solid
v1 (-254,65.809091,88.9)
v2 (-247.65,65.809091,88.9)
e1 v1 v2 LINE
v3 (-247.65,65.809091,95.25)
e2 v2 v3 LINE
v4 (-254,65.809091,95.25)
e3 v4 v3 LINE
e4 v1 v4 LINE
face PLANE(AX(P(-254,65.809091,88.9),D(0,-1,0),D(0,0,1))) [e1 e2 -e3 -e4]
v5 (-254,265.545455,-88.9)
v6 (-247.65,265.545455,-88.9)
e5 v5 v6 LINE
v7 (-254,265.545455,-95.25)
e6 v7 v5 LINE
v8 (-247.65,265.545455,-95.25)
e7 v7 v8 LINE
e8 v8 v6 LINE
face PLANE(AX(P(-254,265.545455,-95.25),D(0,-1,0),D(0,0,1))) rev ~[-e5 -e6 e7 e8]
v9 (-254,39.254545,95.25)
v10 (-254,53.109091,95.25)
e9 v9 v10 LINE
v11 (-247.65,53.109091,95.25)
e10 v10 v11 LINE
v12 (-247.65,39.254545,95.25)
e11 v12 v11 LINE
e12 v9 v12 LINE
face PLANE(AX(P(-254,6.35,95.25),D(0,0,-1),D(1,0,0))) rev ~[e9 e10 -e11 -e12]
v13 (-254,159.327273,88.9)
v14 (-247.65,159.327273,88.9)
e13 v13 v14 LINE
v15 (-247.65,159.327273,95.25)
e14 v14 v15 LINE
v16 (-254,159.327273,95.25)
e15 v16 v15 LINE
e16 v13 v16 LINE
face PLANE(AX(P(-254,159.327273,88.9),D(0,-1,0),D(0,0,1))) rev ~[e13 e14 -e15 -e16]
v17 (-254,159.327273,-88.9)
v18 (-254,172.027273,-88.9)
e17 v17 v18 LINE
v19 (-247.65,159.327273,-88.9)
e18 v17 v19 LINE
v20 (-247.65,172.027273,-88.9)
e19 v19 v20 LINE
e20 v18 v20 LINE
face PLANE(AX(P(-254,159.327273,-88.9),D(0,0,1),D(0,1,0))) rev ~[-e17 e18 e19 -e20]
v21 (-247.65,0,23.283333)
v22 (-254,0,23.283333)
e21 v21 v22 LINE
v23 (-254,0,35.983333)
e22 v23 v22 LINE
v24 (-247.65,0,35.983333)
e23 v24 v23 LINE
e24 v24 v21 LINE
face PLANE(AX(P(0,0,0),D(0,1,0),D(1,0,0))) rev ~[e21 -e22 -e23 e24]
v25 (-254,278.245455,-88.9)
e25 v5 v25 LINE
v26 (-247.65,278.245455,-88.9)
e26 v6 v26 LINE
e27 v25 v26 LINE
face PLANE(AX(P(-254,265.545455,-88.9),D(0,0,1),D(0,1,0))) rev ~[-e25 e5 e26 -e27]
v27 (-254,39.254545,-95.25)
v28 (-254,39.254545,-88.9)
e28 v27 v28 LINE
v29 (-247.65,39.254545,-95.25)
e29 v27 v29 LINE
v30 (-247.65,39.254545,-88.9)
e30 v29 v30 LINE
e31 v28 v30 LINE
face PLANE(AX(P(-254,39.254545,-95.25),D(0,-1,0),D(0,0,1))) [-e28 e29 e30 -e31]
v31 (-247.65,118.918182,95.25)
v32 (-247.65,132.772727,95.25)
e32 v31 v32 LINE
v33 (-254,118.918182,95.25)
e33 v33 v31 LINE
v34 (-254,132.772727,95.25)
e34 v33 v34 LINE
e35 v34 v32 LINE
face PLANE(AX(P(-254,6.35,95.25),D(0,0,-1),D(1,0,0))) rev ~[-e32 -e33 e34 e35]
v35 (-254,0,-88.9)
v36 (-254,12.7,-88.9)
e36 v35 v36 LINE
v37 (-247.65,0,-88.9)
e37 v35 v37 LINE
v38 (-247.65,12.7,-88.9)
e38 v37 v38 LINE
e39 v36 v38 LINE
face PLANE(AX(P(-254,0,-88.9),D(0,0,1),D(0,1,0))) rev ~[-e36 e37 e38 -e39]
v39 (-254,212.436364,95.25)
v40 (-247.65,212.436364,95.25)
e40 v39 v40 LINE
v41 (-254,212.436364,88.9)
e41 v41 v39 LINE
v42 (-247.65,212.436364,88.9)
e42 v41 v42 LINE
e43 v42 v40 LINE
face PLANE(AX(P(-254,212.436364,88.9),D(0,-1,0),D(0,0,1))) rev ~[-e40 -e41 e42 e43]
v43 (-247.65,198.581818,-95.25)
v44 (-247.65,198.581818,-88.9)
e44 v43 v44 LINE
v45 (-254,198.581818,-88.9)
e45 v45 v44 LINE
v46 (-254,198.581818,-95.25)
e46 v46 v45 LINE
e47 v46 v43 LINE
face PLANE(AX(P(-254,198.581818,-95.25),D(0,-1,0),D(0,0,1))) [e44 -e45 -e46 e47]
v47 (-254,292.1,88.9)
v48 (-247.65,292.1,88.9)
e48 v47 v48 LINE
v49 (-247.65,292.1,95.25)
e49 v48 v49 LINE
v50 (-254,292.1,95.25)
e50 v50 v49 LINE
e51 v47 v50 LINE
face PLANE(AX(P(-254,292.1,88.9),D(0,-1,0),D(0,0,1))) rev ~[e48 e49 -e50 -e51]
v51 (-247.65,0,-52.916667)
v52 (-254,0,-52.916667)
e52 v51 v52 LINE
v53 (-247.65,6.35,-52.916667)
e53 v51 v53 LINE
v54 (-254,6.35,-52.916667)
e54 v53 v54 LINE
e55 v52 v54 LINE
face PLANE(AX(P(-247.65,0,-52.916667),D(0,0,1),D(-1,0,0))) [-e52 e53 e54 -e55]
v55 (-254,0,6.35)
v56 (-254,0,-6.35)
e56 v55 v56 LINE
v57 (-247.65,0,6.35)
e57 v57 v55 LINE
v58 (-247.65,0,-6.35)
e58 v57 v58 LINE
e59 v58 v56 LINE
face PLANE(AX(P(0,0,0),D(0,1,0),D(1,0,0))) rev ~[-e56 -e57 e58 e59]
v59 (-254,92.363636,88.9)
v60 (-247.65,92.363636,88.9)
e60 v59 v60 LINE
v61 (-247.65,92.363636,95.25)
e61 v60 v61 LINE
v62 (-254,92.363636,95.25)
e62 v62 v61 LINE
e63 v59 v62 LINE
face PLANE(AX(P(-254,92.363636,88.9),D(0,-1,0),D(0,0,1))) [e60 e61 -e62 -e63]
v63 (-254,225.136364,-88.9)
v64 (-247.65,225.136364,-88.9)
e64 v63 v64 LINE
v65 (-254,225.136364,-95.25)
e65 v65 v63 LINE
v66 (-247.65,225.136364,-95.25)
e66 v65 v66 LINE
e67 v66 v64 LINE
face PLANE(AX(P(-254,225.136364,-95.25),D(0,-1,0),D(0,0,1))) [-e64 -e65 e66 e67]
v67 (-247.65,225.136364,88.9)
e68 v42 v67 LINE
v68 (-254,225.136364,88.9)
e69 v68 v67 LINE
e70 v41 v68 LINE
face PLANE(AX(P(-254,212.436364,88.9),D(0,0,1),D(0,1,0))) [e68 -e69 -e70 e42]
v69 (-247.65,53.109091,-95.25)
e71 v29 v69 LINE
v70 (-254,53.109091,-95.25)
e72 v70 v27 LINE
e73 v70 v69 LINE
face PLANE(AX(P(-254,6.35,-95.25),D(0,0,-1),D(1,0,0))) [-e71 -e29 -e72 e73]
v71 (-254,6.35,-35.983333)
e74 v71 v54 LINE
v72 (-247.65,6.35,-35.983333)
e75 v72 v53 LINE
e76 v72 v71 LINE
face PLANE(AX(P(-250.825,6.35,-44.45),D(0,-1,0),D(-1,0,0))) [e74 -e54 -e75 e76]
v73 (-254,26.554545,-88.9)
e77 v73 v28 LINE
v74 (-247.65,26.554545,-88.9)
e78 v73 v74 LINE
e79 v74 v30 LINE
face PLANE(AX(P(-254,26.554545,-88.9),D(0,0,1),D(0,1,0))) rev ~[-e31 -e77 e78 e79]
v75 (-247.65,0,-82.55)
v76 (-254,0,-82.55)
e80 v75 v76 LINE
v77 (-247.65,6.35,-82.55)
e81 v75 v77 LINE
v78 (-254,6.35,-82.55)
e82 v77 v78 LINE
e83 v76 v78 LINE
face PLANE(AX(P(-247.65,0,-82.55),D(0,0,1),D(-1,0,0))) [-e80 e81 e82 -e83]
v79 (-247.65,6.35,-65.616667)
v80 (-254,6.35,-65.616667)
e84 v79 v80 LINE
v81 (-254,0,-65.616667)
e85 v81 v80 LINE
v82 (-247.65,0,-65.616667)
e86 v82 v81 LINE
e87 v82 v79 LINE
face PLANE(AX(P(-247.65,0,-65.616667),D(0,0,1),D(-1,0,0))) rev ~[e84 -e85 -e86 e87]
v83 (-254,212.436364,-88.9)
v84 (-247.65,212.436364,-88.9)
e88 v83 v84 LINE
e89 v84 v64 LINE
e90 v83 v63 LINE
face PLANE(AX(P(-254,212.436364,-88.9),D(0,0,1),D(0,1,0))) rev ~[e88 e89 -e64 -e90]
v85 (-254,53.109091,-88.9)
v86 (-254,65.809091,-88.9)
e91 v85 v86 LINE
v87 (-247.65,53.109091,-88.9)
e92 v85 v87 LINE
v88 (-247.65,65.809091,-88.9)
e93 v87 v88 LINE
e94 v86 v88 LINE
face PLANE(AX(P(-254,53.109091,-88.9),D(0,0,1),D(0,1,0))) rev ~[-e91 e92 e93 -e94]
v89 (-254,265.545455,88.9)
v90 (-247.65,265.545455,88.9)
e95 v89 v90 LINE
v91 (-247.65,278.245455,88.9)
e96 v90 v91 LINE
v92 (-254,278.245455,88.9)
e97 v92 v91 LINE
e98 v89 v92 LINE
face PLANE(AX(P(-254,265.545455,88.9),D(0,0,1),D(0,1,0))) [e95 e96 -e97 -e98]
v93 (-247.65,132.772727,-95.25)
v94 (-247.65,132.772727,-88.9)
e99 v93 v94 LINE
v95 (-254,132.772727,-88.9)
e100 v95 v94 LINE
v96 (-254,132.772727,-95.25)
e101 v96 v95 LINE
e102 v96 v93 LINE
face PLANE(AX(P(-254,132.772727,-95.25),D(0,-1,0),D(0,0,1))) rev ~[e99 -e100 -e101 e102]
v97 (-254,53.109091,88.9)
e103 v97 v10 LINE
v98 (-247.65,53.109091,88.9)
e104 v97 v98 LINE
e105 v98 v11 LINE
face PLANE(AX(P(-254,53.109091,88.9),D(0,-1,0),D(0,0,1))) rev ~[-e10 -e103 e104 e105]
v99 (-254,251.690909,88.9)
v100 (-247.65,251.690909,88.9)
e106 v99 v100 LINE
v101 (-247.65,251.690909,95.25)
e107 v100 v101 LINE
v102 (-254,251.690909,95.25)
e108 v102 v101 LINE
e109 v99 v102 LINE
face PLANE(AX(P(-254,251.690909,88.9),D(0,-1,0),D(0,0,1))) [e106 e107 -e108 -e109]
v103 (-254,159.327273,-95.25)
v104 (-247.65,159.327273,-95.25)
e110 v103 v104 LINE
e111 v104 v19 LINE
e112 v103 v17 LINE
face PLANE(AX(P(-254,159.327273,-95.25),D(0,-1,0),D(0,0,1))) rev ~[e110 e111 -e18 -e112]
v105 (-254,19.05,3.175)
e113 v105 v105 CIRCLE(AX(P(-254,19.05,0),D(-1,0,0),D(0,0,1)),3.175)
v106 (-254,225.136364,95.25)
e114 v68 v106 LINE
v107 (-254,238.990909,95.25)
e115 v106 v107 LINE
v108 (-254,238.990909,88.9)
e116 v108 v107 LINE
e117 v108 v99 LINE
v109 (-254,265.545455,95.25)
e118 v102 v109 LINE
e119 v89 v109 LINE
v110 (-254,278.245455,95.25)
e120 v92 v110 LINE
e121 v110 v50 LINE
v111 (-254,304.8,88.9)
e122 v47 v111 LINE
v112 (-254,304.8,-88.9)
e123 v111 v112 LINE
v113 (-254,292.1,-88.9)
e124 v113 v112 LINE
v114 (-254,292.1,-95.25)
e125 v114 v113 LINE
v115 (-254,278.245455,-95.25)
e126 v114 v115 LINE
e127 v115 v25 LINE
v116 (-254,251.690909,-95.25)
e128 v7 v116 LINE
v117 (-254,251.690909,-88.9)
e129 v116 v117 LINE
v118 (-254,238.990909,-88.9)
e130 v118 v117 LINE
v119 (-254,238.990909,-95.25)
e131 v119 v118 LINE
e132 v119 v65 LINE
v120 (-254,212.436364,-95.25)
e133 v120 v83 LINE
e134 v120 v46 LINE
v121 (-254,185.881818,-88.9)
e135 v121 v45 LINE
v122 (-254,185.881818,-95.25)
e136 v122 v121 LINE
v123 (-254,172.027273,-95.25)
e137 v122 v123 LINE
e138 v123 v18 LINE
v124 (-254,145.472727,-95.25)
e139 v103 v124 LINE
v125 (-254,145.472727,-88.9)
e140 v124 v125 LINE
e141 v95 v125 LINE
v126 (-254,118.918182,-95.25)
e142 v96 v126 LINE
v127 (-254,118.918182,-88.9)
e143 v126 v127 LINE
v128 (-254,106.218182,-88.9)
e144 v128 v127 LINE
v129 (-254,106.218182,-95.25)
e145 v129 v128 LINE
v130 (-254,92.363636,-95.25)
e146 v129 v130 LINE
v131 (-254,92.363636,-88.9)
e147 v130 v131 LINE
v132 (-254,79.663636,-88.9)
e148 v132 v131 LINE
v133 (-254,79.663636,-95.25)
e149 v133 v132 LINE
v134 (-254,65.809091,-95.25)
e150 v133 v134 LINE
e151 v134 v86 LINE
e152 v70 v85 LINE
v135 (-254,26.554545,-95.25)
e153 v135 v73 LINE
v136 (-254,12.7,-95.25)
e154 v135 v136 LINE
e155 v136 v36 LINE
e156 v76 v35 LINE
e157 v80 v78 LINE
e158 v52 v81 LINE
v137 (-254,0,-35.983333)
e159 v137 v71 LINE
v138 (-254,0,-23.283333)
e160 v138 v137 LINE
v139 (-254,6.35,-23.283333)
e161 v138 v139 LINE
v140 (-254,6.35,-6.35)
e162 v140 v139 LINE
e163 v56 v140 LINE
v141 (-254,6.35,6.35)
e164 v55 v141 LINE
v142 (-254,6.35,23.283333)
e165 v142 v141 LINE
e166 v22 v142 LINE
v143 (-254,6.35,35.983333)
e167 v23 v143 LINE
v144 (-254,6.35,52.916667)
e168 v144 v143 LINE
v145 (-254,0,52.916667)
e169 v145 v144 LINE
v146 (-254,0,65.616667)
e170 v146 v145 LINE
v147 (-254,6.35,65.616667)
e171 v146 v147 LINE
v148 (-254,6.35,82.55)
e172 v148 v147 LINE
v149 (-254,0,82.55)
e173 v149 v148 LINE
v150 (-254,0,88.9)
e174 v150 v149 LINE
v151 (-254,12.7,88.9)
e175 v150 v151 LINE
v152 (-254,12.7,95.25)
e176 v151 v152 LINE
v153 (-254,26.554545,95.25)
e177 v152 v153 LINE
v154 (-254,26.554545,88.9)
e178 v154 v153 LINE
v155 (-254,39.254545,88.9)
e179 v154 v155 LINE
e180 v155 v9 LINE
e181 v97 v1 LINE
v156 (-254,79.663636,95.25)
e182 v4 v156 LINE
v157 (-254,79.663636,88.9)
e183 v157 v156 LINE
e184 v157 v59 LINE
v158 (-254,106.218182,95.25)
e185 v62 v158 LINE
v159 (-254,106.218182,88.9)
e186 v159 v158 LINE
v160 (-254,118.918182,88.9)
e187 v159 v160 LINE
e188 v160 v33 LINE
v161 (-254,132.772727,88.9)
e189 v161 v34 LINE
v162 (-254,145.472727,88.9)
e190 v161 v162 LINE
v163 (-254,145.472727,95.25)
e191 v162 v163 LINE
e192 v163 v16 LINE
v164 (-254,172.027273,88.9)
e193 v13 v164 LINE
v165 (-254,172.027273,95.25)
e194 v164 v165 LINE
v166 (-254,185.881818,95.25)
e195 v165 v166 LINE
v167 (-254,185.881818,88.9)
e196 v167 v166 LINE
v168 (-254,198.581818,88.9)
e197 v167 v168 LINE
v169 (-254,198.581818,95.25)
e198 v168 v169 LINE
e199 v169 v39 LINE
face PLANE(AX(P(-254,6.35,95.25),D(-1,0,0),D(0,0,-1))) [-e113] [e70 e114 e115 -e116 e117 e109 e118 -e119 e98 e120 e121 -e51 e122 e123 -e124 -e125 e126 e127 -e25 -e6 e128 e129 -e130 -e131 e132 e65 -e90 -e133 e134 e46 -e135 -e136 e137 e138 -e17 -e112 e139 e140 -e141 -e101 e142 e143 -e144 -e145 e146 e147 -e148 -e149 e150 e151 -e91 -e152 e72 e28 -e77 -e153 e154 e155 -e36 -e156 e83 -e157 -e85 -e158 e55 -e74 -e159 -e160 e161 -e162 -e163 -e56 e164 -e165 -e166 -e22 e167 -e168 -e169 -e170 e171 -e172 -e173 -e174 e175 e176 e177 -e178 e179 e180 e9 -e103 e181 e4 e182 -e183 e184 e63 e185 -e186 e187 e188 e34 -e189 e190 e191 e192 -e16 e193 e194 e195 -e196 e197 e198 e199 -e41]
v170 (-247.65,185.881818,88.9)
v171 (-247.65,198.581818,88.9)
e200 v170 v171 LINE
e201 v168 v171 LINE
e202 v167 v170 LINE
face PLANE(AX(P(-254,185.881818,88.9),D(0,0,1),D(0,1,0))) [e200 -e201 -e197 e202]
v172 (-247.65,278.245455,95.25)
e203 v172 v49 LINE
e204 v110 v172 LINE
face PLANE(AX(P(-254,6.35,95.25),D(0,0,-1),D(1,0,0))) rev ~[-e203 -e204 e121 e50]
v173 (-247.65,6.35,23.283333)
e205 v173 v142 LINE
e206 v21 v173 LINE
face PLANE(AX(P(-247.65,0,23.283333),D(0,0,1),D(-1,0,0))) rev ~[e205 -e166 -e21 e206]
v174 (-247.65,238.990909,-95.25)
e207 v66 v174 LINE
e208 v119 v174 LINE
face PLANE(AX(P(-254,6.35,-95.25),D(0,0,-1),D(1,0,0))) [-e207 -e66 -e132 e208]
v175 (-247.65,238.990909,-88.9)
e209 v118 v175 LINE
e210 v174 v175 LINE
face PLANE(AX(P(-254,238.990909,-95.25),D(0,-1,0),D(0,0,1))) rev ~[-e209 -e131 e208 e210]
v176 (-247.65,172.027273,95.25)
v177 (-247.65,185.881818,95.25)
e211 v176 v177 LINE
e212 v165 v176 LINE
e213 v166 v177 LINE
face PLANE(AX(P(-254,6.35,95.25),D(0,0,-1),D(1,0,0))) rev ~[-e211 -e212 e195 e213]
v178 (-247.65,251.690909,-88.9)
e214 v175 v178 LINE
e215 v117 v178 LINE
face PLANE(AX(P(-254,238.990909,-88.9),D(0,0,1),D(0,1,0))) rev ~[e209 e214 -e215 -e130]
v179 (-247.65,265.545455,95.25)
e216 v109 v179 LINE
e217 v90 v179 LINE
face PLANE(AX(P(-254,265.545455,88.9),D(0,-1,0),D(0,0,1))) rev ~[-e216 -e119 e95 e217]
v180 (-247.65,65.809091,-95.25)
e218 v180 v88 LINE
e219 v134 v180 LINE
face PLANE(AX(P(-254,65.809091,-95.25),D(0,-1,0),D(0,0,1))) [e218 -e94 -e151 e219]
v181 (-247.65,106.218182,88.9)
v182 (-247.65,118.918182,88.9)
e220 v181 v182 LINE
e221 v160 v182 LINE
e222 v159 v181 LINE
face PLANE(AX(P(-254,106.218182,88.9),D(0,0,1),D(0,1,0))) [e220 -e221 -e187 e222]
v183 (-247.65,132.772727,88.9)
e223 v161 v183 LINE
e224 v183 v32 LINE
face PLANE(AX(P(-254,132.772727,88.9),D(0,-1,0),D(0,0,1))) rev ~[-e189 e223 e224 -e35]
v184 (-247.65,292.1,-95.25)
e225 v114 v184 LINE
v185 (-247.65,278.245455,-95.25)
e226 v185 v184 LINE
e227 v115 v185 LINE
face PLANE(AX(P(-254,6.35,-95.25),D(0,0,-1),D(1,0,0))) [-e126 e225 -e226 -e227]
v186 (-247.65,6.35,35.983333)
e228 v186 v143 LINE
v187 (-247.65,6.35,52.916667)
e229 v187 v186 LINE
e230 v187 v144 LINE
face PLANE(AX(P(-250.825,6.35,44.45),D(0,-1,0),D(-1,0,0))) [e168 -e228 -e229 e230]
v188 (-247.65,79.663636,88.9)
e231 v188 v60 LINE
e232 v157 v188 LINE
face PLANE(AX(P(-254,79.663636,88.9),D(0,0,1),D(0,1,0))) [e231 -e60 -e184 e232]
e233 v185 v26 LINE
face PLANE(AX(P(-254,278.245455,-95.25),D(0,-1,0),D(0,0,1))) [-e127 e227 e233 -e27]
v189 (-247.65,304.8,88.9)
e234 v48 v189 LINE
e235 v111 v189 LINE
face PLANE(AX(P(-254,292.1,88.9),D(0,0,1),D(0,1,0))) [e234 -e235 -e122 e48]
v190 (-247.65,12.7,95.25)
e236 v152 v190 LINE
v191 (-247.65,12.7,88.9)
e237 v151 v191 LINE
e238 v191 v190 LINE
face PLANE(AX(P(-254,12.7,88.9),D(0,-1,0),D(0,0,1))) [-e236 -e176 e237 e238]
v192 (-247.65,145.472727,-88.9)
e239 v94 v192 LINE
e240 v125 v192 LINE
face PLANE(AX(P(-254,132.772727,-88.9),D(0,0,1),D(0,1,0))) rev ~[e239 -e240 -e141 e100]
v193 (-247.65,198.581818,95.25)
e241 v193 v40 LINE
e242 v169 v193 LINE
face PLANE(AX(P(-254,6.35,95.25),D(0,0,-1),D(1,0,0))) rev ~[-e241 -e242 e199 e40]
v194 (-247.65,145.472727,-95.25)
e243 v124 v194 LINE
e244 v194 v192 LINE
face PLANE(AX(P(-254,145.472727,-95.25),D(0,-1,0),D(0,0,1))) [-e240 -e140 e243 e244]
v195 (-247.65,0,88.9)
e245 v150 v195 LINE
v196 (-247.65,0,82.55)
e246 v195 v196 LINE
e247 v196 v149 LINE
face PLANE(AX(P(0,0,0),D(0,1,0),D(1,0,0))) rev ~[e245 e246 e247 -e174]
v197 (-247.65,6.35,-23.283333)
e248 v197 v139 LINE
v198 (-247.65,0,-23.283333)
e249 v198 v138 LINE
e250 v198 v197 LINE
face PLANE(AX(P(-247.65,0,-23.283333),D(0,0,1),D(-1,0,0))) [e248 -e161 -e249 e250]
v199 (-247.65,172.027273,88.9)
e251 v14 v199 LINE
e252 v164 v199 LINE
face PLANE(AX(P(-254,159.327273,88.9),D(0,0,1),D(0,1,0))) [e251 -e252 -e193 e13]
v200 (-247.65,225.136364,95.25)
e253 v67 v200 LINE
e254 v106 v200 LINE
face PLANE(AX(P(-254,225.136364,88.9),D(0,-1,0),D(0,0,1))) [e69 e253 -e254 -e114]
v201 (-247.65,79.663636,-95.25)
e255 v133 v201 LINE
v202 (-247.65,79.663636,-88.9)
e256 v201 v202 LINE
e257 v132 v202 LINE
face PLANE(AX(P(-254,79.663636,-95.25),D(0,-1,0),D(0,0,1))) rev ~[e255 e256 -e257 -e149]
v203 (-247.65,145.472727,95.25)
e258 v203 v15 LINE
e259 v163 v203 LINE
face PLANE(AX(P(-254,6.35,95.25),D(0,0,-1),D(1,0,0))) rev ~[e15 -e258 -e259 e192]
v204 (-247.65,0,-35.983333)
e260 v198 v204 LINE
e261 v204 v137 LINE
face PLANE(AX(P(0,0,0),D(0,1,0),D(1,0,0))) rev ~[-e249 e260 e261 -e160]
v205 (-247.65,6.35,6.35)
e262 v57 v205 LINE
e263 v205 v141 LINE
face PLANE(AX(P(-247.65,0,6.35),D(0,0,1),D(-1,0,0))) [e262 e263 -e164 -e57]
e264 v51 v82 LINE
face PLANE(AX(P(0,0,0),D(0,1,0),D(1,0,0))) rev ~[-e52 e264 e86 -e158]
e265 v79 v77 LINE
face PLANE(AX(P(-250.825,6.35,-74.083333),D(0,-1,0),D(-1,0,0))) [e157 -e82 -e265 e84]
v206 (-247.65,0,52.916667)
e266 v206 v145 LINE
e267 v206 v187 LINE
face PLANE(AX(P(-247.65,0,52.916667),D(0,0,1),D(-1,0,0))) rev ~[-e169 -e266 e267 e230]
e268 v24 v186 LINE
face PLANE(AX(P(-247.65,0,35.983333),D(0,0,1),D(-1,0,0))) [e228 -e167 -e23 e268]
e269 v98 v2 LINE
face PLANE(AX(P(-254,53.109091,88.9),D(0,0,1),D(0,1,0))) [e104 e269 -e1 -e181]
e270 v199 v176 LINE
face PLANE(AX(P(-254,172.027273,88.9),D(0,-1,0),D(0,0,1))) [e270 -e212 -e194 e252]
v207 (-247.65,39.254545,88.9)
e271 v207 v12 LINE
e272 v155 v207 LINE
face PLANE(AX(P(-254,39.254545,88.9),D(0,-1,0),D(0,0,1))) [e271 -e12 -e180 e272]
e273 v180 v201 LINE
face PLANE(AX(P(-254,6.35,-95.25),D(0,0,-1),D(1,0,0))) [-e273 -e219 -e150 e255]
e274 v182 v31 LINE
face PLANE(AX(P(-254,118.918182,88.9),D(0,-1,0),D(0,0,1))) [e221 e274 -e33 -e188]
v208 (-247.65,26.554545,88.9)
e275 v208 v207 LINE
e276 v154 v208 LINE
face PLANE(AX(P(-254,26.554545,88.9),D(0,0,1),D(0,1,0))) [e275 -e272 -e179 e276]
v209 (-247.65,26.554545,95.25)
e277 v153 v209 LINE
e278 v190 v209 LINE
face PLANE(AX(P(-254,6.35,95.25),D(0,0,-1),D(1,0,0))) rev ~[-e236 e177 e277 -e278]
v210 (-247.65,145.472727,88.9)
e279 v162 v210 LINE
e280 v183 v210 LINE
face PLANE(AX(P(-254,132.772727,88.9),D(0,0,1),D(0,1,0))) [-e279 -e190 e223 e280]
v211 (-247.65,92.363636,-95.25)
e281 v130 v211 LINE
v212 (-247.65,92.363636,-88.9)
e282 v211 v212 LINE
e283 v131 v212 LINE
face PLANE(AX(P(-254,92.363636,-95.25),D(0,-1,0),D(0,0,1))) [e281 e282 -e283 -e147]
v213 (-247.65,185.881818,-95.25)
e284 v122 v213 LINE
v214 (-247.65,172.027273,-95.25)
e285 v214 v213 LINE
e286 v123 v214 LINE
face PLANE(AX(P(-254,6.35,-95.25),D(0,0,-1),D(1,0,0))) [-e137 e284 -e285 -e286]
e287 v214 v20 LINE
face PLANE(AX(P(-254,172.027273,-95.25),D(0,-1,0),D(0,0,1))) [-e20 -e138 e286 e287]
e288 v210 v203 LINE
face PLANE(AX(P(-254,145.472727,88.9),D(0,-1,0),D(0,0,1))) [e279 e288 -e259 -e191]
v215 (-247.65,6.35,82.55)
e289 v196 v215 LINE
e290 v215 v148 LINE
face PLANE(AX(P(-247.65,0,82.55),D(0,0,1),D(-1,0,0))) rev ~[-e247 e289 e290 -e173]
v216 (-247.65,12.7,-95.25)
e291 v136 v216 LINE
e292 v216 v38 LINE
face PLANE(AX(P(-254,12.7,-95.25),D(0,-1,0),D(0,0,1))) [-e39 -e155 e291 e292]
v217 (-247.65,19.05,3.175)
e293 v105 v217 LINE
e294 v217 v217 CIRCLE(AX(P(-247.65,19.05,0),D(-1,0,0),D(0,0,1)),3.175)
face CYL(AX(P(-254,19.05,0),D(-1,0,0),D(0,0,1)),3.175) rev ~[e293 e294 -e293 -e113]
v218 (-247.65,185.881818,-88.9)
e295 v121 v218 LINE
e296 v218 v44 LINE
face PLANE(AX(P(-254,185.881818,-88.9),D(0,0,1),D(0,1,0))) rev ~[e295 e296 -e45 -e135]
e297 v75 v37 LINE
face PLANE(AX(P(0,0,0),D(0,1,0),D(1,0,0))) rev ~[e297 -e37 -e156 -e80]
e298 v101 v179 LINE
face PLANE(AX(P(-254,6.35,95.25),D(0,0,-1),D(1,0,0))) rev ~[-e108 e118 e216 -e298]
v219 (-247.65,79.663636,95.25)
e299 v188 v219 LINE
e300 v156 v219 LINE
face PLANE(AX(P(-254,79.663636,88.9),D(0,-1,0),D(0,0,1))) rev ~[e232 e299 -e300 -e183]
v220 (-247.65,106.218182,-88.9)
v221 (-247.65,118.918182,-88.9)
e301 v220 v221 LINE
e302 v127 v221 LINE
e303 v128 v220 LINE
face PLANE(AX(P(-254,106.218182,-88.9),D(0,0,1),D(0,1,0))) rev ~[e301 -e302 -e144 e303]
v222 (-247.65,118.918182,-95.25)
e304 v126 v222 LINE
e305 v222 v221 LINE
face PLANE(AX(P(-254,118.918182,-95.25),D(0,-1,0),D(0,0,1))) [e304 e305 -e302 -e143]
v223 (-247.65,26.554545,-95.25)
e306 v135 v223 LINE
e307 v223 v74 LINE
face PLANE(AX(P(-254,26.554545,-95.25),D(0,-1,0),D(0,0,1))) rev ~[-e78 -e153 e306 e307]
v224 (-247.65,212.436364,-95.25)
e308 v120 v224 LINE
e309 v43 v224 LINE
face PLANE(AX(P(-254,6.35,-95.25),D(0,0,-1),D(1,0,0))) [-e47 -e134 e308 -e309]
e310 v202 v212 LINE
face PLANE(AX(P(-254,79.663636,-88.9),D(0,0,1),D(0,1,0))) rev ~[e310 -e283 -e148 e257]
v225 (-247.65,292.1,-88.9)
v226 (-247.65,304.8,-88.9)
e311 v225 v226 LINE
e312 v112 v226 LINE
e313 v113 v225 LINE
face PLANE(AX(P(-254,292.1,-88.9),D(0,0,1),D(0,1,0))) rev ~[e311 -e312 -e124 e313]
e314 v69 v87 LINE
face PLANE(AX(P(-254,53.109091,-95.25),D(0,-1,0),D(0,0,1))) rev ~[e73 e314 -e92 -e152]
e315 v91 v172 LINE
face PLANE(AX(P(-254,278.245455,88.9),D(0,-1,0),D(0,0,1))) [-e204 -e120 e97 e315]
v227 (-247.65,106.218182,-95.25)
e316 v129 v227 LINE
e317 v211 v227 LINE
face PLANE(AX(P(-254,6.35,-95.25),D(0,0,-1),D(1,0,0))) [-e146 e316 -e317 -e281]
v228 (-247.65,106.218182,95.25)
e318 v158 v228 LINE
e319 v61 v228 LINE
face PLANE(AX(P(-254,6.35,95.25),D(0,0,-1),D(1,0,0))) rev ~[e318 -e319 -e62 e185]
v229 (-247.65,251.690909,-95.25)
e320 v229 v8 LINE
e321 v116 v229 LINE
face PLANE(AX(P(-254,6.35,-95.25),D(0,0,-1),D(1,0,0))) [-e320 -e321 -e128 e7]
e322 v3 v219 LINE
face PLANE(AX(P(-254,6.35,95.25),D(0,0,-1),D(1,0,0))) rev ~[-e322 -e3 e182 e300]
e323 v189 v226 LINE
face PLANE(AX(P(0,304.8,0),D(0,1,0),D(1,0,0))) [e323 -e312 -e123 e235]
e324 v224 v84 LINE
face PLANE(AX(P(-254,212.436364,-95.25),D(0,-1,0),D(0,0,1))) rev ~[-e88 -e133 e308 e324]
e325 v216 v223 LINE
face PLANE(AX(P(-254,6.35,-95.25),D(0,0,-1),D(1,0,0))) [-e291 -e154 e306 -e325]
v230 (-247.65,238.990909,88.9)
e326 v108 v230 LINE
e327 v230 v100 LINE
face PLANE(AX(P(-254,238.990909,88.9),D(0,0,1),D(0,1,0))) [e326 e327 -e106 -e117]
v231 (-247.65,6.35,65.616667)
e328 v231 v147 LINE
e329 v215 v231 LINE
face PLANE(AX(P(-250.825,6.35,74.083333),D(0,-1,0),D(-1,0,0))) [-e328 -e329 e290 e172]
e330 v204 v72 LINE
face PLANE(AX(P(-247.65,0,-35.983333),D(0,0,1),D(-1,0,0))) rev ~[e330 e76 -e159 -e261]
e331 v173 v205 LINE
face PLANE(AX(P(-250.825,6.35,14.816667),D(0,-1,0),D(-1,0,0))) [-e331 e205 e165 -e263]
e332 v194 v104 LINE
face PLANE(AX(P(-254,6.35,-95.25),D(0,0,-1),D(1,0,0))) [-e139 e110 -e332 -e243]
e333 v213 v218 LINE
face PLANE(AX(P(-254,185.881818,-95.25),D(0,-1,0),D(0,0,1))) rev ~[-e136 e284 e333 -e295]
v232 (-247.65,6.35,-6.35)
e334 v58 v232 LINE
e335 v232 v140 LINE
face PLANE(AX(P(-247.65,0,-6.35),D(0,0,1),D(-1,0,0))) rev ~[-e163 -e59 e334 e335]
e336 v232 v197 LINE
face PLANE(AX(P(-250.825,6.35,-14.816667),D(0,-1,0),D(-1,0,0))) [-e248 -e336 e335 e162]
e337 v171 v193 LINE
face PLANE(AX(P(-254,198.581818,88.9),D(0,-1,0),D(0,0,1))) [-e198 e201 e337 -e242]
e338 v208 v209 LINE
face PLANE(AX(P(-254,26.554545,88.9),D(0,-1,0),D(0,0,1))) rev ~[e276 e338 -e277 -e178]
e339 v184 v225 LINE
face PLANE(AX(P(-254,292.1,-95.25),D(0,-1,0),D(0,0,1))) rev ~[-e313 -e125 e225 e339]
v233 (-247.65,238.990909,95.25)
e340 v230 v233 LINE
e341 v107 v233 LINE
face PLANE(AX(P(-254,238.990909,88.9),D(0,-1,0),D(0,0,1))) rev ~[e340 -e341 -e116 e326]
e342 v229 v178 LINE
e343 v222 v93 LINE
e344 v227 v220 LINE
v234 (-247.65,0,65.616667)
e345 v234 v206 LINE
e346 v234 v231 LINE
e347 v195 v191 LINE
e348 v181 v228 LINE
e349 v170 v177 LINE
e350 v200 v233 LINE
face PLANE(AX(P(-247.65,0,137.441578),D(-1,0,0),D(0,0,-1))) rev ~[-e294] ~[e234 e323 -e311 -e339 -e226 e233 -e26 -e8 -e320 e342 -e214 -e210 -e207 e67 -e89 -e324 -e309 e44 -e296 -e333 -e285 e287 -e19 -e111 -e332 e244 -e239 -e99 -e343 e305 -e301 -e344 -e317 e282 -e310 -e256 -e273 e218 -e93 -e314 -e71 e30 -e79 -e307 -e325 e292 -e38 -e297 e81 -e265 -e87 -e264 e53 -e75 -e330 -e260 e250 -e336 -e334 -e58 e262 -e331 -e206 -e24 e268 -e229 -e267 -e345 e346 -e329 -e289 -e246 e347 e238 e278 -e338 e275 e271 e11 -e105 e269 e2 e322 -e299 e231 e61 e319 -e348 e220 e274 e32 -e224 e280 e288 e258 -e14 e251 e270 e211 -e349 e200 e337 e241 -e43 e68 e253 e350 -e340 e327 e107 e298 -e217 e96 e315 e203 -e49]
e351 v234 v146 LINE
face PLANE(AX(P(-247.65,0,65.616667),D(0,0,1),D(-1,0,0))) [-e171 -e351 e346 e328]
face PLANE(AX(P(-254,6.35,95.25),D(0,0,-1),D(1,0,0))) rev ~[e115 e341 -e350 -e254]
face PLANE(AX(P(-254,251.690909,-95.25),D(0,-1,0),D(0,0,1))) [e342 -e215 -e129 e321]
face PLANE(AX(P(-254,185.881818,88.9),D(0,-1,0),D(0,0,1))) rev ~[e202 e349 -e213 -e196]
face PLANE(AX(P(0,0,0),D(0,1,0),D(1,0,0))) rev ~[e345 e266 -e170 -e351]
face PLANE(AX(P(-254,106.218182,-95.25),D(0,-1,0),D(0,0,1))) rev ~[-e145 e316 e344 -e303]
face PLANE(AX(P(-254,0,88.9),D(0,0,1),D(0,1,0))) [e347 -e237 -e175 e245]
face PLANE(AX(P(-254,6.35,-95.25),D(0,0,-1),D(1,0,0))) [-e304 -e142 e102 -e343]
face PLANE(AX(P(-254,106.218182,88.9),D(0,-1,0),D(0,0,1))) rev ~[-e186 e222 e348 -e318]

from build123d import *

# Parameters (mm, degrees)
SKETCH1_W           = 508
SKETCH1_H           = 190.5
BOSS_EXTRUDE1_DEPTH = 6.35
SKETCH2_W           = 508
SKETCH2_H           = 190.5
SKETCH2_W_2         = 495.3
SKETCH2_H_2         = 177.8
BOSS_EXTRUDE2_DEPTH = 298.45
SKETCH3_W           = 6.35
SKETCH3_H           = 16.933333333
SKETCH3_H_2         = 16.933333334
CUT_EXTRUDE1_DEPTH  = 12.7
SKETCH4_W           = 6.35
SKETCH4_H           = 15.875
CUT_EXTRUDE2_DEPTH  = 6.35
SKETCH6_W           = 514.801062296
SKETCH6_H           = 254.881465808
CUT_EXTRUDE5_DEPTH  = 305.8
SKETCH5_W           = 6.35
SKETCH5_H           = 16.933333333
SKETCH5_H_2         = 16.933333334
CUT_EXTRUDE6_DEPTH  = 6.35
SKETCH7_W           = 6.35
SKETCH7_H           = 12.7
CUT_EXTRUDE7_DEPTH  = 7.35
SKETCH8_R           = 3.175
CUT_EXTRUDE8_DEPTH  = 7.35


with BuildPart() as part:
    # Sketch1 → Boss-Extrude1 (new body)
    with BuildSketch(Plane(origin=(0, 0, 0), x_dir=(1, 0, 0), z_dir=(0, 1, 0))):
        Rectangle(SKETCH1_W, SKETCH1_H)
    extrude(amount=BOSS_EXTRUDE1_DEPTH)

    # Sketch2 → Boss-Extrude2 (add)
    with BuildSketch(Plane(origin=(0, 6.35, 0), x_dir=(1, 0, 0), z_dir=(0, 1, 0))):
        Rectangle(SKETCH2_W, SKETCH2_H)
        Rectangle(SKETCH2_W_2, SKETCH2_H_2, mode=Mode.SUBTRACT)
    extrude(amount=BOSS_EXTRUDE2_DEPTH)

    # Sketch3 → Cut-Extrude1 (cut)
    with BuildSketch(Plane.XY.offset(95.25)):
        with BuildLine():
            Line((-3.302, 283.21), (-3.302, 6.35))
            Line((-3.302, 6.35), (3.302, 6.35))
            Line((3.302, 6.35), (3.302, 292.354))
            Line((3.302, 292.354), (-16.256, 292.354))
            Line((-16.256, 292.354), (-16.256, 285.75))
            Line((-16.256, 285.75), (-5.842, 285.75))
            ThreePointArc((-5.842, 285.75), (-4.045948776, 285.006051224), (-3.302, 283.21))
        make_face()
        with Locations((12.827, 80.433333334)):
            Rectangle(SKETCH3_W, SKETCH3_H)
        with Locations((12.827, 50.8)):
            Rectangle(SKETCH3_W, SKETCH3_H_2)
        with Locations((12.827, 21.166666667)):
            Rectangle(SKETCH3_W, SKETCH3_H)
    extrude(amount=-CUT_EXTRUDE1_DEPTH, mode=Mode.SUBTRACT)

    # Sketch4 → Cut-Extrude2 (cut)
    with BuildSketch(Plane.XY.offset(-88.9)):
        with Locations((-19.431, 284.1625)):
            Rectangle(SKETCH4_W, SKETCH4_H)
        with Locations((-19.431, 255.5875)):
            Rectangle(SKETCH4_W, SKETCH4_H)
        with Locations((-19.431, 227.0125)):
            Rectangle(SKETCH4_W, SKETCH4_H)
        with Locations((-19.431, 198.4375)):
            Rectangle(SKETCH4_W, SKETCH4_H)
        with Locations((-19.431, 169.8625)):
            Rectangle(SKETCH4_W, SKETCH4_H)
        with Locations((-19.431, 141.2875)):
            Rectangle(SKETCH4_W, SKETCH4_H)
        with Locations((-19.431, 112.7125)):
            Rectangle(SKETCH4_W, SKETCH4_H)
        with Locations((-19.431, 84.1375)):
            Rectangle(SKETCH4_W, SKETCH4_H)
        with Locations((-19.431, 55.5625)):
            Rectangle(SKETCH4_W, SKETCH4_H)
        with Locations((-19.431, 26.9875)):
            Rectangle(SKETCH4_W, SKETCH4_H)
    cut_extrude2 = extrude(amount=-CUT_EXTRUDE2_DEPTH, mode=Mode.SUBTRACT)

    # Mirror1: Cut-Extrude2 across plane
    add(cut_extrude2.mirror(Plane.ZY.offset(6.477)), mode=Mode.SUBTRACT)

    # Sketch6 → Cut-Extrude5 (cut, through all)
    with BuildSketch(Plane(origin=(0, 0, 0), x_dir=(1, 0, 0), z_dir=(0, 1, 0))):
        with Locations((9.750531148, -10.000845247)):
            Rectangle(SKETCH6_W, SKETCH6_H)
    extrude(amount=CUT_EXTRUDE5_DEPTH, mode=Mode.SUBTRACT)

    # Sketch5 → Cut-Extrude6 (cut)
    with BuildSketch(Plane(origin=(0, 0, 0), x_dir=(-1, 0, 0), z_dir=(0, -1, 0))):
        with Locations((250.825, -74.083333334)):
            Rectangle(SKETCH5_W, SKETCH5_H)
        with Locations((250.825, -44.45)):
            Rectangle(SKETCH5_W, SKETCH5_H_2)
        with Locations((250.825, -14.816666667)):
            Rectangle(SKETCH5_W, SKETCH5_H)
        with Locations((250.825, 14.816666667)):
            Rectangle(SKETCH5_W, SKETCH5_H)
        with Locations((250.825, 44.45)):
            Rectangle(SKETCH5_W, SKETCH5_H_2)
        with Locations((250.825, 74.083333334)):
            Rectangle(SKETCH5_W, SKETCH5_H)
    extrude(amount=-CUT_EXTRUDE6_DEPTH, mode=Mode.SUBTRACT)

    # Sketch7 → Cut-Extrude7 (cut, through all)
    with BuildSketch(Plane.ZY.offset(254)):
        with Locations((-92.075, 32.904545455)):
            Rectangle(SKETCH7_W, SKETCH7_H)
        with Locations((-92.075, 6.35)):
            Rectangle(SKETCH7_W, SKETCH7_H)
        with Locations((-92.075, 59.459090909)):
            Rectangle(SKETCH7_W, SKETCH7_H)
        with Locations((-92.075, 86.013636364)):
            Rectangle(SKETCH7_W, SKETCH7_H)
        with Locations((-92.075, 112.568181818)):
            Rectangle(SKETCH7_W, SKETCH7_H)
        with Locations((-92.075, 139.122727273)):
            Rectangle(SKETCH7_W, SKETCH7_H)
        with Locations((-92.075, 165.677272727)):
            Rectangle(SKETCH7_W, SKETCH7_H)
        with Locations((-92.075, 192.231818182)):
            Rectangle(SKETCH7_W, SKETCH7_H)
        with Locations((-92.075, 218.786363636)):
            Rectangle(SKETCH7_W, SKETCH7_H)
        with Locations((-92.075, 245.340909091)):
            Rectangle(SKETCH7_W, SKETCH7_H)
        with Locations((-92.075, 271.895454545)):
            Rectangle(SKETCH7_W, SKETCH7_H)
        with Locations((-92.075, 298.45)):
            Rectangle(SKETCH7_W, SKETCH7_H)
        with Locations((92.075, 298.45)):
            Rectangle(SKETCH7_W, SKETCH7_H)
        with Locations((92.075, 271.895454545)):
            Rectangle(SKETCH7_W, SKETCH7_H)
        with Locations((92.075, 245.340909091)):
            Rectangle(SKETCH7_W, SKETCH7_H)
        with Locations((92.075, 218.786363636)):
            Rectangle(SKETCH7_W, SKETCH7_H)
        with Locations((92.075, 192.231818182)):
            Rectangle(SKETCH7_W, SKETCH7_H)
        with Locations((92.075, 165.677272727)):
            Rectangle(SKETCH7_W, SKETCH7_H)
        with Locations((92.075, 139.122727273)):
            Rectangle(SKETCH7_W, SKETCH7_H)
        with Locations((92.075, 112.568181818)):
            Rectangle(SKETCH7_W, SKETCH7_H)
        with Locations((92.075, 86.013636364)):
            Rectangle(SKETCH7_W, SKETCH7_H)
        with Locations((92.075, 59.459090909)):
            Rectangle(SKETCH7_W, SKETCH7_H)
        with Locations((92.075, 32.904545455)):
            Rectangle(SKETCH7_W, SKETCH7_H)
        with Locations((92.075, 6.35)):
            Rectangle(SKETCH7_W, SKETCH7_H)
    extrude(amount=-CUT_EXTRUDE7_DEPTH, mode=Mode.SUBTRACT)

    # Sketch8 → Cut-Extrude8 (cut, through all)
    with BuildSketch(Plane.ZY.offset(254)):
        with Locations((0, 19.05)):
            Circle(SKETCH8_R)
    extrude(amount=-CUT_EXTRUDE8_DEPTH, mode=Mode.SUBTRACT)


solid = part.part
